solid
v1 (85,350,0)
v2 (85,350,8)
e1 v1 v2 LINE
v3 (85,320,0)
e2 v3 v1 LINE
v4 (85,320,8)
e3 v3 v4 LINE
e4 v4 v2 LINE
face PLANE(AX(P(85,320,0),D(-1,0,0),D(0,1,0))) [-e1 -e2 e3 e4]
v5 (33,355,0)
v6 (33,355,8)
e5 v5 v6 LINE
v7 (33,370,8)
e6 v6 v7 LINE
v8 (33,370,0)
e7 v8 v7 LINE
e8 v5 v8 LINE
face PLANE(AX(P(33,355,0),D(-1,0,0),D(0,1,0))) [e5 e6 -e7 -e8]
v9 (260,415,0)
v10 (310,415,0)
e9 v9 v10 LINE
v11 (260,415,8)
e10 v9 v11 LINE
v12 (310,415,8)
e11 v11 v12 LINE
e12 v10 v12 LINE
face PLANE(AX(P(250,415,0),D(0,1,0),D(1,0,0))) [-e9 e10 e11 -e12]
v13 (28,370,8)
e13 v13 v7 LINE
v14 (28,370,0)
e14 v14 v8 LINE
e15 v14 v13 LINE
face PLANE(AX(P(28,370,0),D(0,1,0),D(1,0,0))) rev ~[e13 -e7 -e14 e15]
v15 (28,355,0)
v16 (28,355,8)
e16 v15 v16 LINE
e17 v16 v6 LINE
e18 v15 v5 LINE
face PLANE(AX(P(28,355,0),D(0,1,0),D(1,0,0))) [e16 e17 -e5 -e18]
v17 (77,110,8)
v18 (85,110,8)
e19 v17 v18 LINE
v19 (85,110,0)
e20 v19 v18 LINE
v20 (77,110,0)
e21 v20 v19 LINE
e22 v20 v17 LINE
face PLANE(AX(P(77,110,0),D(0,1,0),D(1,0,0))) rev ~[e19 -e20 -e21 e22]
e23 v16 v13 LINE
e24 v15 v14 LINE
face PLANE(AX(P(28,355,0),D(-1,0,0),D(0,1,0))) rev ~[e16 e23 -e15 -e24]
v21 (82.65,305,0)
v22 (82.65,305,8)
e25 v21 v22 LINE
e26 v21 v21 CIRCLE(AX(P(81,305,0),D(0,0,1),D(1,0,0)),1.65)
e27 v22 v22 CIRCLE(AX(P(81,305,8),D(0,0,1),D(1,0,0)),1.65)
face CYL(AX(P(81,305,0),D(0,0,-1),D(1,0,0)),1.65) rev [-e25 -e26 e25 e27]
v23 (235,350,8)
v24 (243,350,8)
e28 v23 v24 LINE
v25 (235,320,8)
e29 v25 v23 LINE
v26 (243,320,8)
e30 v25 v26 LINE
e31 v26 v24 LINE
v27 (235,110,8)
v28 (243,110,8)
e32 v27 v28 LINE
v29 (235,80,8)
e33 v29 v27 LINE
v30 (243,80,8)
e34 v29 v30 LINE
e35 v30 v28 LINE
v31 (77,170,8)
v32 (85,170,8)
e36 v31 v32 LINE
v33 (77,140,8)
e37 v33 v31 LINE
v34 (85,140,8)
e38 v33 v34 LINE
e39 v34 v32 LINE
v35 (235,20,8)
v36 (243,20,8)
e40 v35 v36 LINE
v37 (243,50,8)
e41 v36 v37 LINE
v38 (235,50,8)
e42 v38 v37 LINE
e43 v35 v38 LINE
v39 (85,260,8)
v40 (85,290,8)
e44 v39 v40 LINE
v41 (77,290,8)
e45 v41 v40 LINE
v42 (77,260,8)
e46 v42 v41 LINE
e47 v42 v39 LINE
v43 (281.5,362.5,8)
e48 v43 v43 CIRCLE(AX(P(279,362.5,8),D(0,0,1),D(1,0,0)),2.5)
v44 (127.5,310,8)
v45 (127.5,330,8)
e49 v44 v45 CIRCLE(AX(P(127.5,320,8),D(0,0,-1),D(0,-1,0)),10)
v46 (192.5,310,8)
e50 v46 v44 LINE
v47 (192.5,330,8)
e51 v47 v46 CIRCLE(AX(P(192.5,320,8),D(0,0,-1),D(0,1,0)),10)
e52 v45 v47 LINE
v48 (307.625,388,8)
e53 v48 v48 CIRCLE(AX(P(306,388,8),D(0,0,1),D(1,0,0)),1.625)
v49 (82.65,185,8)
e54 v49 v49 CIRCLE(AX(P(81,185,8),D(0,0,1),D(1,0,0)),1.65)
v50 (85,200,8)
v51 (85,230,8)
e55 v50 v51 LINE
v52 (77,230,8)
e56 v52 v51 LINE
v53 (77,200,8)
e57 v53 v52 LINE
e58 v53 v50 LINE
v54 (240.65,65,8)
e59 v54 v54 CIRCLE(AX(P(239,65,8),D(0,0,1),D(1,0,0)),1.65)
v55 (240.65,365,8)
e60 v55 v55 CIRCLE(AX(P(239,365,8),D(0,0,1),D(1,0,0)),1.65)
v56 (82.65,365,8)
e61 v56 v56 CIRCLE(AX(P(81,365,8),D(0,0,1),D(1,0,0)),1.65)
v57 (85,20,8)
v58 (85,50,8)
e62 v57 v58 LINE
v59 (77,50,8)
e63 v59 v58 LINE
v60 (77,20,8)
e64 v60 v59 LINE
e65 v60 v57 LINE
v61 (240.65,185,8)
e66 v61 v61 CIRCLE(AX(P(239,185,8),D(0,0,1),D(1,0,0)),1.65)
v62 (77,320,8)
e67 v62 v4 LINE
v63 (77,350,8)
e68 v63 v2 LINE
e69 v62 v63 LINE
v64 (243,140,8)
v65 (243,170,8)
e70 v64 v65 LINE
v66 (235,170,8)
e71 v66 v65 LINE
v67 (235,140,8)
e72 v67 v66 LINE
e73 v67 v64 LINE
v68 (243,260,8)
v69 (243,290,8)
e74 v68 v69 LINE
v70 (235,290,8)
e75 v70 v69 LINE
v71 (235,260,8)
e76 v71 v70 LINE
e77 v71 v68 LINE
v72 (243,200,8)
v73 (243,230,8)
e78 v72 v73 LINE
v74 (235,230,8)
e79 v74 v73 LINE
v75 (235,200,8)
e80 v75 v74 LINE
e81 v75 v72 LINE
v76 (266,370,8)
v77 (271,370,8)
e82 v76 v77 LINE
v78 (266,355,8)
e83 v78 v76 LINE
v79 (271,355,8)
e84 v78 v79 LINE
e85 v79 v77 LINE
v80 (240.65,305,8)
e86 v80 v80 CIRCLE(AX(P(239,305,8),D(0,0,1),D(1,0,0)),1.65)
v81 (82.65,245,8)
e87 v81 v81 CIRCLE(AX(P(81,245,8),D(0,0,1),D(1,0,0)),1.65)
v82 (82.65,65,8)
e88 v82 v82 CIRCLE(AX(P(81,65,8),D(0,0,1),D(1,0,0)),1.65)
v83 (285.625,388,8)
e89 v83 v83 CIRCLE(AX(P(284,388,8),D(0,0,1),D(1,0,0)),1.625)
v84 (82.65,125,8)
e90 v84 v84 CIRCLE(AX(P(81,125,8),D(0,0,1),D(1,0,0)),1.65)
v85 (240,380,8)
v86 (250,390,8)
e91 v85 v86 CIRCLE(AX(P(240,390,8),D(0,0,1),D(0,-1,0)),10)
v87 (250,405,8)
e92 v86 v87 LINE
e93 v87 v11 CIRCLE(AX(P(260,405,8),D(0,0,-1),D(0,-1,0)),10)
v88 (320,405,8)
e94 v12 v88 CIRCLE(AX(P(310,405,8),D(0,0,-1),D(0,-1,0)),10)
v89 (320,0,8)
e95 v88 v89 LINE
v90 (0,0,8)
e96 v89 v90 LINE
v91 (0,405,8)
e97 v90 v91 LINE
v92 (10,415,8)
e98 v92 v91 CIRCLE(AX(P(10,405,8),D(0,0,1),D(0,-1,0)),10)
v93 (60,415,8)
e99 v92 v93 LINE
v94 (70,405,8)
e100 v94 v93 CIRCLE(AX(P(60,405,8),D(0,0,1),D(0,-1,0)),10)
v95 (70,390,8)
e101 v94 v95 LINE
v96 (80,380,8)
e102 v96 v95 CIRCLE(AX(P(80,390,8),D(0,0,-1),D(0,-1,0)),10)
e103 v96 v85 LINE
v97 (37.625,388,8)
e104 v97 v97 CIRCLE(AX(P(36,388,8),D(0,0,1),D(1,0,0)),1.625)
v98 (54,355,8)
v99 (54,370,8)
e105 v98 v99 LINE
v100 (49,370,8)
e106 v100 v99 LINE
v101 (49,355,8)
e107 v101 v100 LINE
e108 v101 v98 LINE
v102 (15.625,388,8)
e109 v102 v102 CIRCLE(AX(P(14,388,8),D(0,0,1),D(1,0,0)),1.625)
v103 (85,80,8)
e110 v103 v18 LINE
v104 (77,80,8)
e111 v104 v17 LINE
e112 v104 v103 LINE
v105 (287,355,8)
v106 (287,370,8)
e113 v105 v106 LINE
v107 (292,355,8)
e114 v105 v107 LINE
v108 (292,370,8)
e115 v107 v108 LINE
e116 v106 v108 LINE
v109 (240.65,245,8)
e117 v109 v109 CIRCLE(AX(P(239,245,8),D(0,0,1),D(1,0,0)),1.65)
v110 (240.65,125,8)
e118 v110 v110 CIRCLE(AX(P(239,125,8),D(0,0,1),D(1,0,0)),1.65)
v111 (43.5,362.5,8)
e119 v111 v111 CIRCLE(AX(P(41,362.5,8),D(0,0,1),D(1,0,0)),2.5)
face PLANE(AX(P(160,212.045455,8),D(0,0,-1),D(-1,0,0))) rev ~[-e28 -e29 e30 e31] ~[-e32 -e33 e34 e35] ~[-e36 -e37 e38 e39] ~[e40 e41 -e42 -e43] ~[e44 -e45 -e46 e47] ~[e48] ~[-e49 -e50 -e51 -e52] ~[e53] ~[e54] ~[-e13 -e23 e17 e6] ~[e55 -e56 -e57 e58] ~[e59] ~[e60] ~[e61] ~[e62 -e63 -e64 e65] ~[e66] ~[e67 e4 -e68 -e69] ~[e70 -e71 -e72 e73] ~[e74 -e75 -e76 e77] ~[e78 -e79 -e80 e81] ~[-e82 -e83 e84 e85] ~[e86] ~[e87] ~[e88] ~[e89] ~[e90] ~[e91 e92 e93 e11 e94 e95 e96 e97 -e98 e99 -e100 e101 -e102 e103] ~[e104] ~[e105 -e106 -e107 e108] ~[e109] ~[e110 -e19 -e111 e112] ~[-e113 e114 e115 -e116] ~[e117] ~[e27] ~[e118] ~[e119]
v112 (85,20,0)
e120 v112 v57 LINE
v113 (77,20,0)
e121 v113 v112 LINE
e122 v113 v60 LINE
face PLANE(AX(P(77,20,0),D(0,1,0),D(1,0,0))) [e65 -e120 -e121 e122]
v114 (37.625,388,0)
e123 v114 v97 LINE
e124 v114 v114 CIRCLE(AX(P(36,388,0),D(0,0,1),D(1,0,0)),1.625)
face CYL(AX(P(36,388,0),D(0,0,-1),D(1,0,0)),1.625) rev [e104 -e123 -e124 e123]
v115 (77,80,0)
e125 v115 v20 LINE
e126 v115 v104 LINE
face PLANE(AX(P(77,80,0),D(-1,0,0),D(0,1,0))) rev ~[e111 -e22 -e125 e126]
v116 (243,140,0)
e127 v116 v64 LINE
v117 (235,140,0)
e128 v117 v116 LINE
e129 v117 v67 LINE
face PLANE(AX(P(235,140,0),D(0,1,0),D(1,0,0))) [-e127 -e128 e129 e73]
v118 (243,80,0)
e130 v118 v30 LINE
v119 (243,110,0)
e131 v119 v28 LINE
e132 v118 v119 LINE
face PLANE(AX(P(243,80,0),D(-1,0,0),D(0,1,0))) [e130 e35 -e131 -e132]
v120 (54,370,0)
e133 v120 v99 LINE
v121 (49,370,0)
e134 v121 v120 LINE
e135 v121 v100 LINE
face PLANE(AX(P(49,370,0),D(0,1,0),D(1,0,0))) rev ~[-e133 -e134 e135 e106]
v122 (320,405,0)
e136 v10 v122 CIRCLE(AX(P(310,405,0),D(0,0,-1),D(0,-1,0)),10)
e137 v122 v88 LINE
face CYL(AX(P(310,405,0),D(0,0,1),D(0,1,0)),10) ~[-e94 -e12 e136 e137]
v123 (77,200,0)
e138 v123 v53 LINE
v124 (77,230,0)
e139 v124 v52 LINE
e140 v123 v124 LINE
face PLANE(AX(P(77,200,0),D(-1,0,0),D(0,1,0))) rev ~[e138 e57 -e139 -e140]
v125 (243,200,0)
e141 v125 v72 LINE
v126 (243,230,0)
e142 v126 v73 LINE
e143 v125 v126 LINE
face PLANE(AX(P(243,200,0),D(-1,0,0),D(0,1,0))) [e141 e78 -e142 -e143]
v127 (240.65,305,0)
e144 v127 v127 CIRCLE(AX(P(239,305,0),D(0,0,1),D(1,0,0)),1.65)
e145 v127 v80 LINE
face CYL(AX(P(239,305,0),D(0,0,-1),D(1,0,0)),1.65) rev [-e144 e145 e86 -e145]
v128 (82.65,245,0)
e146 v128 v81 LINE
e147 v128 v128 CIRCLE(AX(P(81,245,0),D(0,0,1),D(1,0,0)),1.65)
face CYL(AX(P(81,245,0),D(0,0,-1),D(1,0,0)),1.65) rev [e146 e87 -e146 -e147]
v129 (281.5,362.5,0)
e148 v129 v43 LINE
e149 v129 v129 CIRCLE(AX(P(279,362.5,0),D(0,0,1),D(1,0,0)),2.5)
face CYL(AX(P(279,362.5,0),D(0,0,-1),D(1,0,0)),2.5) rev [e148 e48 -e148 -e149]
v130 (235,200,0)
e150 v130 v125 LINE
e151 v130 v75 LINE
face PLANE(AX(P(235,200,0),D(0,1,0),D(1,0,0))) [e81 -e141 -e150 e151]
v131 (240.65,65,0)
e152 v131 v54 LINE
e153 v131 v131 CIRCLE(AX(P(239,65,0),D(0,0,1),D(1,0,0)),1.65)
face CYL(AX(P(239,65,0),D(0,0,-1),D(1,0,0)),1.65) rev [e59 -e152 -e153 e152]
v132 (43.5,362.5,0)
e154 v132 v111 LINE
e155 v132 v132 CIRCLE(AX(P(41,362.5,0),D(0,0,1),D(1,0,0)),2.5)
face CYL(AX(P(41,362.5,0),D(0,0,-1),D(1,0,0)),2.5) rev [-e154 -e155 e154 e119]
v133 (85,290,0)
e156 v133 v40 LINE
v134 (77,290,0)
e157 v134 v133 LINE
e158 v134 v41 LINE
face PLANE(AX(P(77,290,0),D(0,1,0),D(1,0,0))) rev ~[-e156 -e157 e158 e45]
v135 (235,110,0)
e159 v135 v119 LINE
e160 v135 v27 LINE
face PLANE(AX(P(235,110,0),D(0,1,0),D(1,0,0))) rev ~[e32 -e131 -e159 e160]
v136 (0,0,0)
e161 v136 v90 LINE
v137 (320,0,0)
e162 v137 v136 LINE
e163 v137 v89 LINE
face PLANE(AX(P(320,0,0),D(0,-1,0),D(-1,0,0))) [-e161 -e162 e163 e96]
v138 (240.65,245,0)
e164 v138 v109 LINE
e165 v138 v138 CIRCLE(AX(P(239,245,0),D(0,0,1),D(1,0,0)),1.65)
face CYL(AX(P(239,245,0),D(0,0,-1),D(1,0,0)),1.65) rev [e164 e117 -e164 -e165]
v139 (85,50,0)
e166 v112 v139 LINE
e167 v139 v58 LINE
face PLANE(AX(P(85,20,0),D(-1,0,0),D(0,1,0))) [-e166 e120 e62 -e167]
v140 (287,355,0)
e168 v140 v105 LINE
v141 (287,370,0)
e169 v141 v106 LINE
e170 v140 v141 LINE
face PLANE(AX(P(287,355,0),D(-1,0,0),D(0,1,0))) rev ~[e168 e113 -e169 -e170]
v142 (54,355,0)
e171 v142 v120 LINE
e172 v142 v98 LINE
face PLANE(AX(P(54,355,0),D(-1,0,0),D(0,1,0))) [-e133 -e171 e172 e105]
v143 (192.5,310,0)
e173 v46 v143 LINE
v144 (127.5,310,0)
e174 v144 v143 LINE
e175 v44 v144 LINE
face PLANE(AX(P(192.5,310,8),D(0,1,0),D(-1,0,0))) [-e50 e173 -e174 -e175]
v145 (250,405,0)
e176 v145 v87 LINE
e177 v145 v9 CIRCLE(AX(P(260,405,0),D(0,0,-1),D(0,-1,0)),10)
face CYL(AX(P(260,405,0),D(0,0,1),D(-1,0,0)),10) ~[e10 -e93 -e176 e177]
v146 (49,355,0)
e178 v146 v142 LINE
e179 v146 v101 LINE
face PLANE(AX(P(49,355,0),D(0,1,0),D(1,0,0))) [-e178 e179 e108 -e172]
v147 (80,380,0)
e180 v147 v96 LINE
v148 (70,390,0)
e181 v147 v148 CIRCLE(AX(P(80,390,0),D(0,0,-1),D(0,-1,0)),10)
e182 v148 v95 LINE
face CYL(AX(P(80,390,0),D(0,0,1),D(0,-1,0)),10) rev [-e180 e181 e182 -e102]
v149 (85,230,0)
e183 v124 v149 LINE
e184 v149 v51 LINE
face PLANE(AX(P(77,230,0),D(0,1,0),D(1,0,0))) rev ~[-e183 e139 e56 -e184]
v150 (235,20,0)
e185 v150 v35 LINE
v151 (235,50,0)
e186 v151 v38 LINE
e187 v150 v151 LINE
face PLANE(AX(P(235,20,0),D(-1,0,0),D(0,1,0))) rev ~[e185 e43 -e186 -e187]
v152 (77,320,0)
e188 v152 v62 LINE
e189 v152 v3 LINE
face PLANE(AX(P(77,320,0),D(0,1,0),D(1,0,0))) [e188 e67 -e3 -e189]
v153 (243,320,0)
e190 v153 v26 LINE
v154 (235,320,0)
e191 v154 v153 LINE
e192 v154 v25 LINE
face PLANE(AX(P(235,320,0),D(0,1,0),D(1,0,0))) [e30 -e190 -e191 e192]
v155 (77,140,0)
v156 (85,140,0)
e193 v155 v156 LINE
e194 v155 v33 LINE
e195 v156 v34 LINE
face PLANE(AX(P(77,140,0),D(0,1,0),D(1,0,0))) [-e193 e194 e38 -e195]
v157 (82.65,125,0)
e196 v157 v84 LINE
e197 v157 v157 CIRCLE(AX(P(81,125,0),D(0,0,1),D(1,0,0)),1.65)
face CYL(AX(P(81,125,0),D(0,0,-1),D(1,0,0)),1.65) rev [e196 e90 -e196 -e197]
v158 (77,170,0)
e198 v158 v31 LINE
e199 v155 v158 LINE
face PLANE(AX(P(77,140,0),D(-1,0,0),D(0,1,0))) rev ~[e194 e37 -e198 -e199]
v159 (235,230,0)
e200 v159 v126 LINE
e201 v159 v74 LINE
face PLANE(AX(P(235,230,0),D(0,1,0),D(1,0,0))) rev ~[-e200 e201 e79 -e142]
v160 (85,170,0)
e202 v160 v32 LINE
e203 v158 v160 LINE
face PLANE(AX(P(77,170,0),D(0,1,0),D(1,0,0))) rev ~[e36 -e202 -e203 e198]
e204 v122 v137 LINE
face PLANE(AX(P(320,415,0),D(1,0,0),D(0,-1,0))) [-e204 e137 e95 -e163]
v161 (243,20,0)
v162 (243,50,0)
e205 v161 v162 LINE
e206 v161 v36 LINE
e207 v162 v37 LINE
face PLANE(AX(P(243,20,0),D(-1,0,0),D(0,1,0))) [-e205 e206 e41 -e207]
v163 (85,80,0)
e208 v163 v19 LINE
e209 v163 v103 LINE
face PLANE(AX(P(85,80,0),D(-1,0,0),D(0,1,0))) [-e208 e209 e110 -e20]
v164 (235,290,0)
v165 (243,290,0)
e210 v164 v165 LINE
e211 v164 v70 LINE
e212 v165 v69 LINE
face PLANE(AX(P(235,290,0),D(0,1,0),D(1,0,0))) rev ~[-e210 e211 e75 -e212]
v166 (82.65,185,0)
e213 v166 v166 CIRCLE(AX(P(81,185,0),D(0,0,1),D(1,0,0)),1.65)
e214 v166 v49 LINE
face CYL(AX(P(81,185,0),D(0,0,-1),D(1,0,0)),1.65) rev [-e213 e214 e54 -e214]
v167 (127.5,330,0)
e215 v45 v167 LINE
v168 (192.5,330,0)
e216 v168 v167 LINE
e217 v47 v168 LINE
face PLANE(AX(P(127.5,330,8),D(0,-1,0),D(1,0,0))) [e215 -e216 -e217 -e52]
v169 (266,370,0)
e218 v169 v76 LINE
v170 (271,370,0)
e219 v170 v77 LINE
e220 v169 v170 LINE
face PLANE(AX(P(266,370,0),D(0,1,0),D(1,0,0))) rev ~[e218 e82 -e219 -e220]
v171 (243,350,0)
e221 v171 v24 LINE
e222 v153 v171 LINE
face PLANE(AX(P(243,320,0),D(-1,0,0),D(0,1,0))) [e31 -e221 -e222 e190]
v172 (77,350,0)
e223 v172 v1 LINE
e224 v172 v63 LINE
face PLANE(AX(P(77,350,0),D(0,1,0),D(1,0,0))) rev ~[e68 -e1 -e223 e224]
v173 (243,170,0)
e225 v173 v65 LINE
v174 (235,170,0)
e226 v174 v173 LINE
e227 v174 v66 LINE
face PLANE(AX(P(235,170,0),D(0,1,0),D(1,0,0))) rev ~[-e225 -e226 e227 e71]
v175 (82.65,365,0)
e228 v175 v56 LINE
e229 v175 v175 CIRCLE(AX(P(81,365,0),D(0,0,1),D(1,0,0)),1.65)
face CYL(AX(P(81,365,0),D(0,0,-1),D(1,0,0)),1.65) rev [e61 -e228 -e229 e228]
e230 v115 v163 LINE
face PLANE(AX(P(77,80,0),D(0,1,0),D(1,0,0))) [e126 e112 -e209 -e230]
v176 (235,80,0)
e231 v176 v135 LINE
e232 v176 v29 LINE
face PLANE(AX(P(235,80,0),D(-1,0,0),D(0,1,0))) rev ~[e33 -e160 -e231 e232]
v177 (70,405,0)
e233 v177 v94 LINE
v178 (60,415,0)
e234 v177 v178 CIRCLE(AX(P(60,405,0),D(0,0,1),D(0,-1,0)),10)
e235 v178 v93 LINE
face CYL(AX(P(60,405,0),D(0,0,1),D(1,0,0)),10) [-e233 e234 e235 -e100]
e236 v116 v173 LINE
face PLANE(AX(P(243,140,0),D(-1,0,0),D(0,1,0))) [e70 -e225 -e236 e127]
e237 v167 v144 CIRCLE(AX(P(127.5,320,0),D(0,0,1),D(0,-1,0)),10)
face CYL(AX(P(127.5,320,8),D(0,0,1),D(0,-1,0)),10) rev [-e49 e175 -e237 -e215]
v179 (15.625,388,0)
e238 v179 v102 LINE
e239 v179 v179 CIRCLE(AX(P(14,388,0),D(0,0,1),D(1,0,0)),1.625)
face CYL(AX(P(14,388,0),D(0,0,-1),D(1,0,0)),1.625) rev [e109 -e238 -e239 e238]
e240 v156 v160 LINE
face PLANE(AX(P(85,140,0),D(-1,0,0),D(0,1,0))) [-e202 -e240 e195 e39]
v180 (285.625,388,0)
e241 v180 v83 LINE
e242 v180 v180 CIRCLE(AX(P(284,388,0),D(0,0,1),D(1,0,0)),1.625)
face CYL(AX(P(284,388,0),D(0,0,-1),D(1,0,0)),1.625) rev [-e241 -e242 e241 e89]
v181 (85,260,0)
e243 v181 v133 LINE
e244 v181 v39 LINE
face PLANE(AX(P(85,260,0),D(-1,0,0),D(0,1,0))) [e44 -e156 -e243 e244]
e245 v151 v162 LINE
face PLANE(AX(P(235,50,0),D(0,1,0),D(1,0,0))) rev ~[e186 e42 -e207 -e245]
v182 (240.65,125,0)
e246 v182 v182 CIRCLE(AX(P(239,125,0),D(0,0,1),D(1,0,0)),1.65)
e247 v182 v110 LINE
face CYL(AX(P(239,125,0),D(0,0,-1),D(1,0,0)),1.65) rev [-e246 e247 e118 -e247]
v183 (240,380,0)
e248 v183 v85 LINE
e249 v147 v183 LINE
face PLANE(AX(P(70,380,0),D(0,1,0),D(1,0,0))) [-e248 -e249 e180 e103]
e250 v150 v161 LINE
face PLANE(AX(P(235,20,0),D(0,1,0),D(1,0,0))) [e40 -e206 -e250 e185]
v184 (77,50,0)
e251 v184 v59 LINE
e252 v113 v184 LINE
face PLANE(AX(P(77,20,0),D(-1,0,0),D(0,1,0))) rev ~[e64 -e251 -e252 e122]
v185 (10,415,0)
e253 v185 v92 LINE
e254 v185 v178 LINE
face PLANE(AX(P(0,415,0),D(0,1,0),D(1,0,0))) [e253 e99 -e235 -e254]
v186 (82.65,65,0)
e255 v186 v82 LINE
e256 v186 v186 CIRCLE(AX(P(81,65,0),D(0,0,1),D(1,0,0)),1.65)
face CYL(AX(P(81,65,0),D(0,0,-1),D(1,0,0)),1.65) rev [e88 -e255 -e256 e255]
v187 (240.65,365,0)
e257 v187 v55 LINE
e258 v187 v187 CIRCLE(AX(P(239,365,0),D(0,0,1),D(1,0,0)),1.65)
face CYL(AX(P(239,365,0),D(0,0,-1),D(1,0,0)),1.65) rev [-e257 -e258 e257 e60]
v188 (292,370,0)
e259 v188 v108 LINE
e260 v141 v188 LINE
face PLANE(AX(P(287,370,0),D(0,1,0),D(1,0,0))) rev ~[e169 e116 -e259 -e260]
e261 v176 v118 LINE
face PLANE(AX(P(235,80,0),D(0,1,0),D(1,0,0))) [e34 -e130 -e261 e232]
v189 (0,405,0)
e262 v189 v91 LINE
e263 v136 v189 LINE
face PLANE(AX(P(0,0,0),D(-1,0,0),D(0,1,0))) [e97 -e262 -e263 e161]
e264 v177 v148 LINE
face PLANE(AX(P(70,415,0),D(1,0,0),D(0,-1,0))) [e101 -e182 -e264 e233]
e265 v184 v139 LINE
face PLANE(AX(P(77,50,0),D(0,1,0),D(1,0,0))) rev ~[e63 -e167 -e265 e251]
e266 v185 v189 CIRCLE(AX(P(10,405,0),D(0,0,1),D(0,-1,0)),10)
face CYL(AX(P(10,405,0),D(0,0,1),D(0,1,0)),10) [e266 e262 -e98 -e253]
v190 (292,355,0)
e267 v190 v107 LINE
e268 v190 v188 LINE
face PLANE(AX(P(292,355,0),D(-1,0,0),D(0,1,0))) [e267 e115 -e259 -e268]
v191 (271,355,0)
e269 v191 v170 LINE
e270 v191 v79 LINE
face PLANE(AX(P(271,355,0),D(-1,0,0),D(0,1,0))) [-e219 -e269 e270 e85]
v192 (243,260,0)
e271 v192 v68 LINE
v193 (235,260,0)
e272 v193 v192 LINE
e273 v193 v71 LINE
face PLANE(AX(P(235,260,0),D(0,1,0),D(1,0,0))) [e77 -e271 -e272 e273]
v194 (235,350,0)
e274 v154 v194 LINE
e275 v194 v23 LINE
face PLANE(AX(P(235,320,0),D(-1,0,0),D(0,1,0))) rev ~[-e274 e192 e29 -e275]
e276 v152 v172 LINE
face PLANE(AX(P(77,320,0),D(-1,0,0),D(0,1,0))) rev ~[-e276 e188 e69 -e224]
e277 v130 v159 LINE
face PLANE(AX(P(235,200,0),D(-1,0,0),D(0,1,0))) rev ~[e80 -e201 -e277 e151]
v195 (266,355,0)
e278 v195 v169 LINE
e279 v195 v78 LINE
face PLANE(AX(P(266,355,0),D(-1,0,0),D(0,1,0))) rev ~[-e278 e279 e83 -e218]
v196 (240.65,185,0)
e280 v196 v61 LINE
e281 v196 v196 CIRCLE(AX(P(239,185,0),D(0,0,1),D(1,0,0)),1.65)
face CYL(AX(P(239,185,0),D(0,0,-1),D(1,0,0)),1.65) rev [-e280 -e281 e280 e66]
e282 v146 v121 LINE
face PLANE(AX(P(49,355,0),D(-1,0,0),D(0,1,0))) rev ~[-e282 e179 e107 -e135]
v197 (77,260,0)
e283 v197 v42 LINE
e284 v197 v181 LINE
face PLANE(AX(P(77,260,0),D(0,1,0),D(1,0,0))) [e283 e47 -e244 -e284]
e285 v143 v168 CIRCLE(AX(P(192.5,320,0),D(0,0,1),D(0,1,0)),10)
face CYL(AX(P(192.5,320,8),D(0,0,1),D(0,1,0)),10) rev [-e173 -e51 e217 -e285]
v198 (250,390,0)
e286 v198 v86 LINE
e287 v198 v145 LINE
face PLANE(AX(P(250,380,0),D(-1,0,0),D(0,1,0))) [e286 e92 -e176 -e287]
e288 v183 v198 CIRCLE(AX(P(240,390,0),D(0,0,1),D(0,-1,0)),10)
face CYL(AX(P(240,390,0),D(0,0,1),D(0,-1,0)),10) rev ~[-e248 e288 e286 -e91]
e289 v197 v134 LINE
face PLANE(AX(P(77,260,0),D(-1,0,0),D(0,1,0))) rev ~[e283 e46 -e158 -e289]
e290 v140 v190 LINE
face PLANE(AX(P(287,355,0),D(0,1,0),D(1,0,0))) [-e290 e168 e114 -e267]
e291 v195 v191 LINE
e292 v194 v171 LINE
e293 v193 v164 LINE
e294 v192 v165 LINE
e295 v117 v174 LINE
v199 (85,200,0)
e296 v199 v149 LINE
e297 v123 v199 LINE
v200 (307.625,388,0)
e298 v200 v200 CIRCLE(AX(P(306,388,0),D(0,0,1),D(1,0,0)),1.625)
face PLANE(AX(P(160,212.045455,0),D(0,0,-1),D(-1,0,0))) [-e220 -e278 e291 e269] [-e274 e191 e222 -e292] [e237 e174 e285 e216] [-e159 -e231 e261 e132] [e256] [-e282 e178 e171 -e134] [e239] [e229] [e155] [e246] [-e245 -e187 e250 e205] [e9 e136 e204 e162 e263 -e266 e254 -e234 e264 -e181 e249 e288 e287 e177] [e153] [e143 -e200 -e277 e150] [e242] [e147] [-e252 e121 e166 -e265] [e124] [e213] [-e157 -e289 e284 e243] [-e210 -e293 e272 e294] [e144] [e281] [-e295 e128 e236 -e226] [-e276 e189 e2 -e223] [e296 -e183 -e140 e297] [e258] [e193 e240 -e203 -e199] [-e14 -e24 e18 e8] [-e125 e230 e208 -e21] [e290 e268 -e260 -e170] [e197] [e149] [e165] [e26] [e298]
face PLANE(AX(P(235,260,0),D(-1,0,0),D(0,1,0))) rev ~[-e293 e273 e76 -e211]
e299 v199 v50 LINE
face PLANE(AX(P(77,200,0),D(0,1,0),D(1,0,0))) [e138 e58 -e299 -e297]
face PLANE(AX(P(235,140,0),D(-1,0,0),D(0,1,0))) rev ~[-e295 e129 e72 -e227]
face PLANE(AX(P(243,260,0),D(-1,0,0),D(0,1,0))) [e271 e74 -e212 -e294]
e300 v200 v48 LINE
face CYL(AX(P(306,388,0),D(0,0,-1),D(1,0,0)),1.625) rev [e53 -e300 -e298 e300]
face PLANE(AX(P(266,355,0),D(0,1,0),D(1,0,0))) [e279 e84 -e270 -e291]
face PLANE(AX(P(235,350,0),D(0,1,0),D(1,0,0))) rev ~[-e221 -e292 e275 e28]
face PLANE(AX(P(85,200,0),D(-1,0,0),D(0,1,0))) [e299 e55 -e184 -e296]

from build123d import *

# Parameters (mm, degrees)
SKETCH1_R           = 1.625
SKETCH1_R_2         = 2.5
SKETCH1_R_3         = 1.65
SKETCH1_W           = 8
SKETCH1_H           = 30
SKETCH1_W_2         = 5
SKETCH1_H_2         = 15
BOSS_EXTRUDE1_DEPTH = 8
FILLET1_R           = 10
CUT_EXTRUDE1_DEPTH  = 9


with BuildPart() as part:
    # Sketch1 → Boss-Extrude1 (new body)
    with BuildSketch(Plane.XY):
        Polygon((70, 380), (250, 380), (250, 415), (320, 415), (320, 0), (0, 0), (0, 415), (70, 415), align=None)
        with Locations((14, 388)):
            Circle(SKETCH1_R, mode=Mode.SUBTRACT)
        with Locations((36, 388)):
            Circle(SKETCH1_R, mode=Mode.SUBTRACT)
        with Locations((41, 362.5)):
            Circle(SKETCH1_R_2, mode=Mode.SUBTRACT)
        with Locations((279, 362.5)):
            Circle(SKETCH1_R_2, mode=Mode.SUBTRACT)
        with Locations((284, 388)):
            Circle(SKETCH1_R, mode=Mode.SUBTRACT)
        with Locations((306, 388)):
            Circle(SKETCH1_R, mode=Mode.SUBTRACT)
        with Locations((239, 365)):
            Circle(SKETCH1_R_3, mode=Mode.SUBTRACT)
        with Locations((81, 365)):
            Circle(SKETCH1_R_3, mode=Mode.SUBTRACT)
        with Locations((239, 305)):
            Circle(SKETCH1_R_3, mode=Mode.SUBTRACT)
        with Locations((81, 305)):
            Circle(SKETCH1_R_3, mode=Mode.SUBTRACT)
        with Locations((239, 245)):
            Circle(SKETCH1_R_3, mode=Mode.SUBTRACT)
        with Locations((81, 245)):
            Circle(SKETCH1_R_3, mode=Mode.SUBTRACT)
        with Locations((239, 185)):
            Circle(SKETCH1_R_3, mode=Mode.SUBTRACT)
        with Locations((81, 185)):
            Circle(SKETCH1_R_3, mode=Mode.SUBTRACT)
        with Locations((239, 125)):
            Circle(SKETCH1_R_3, mode=Mode.SUBTRACT)
        with Locations((81, 125)):
            Circle(SKETCH1_R_3, mode=Mode.SUBTRACT)
        with Locations((239, 65)):
            Circle(SKETCH1_R_3, mode=Mode.SUBTRACT)
        with Locations((81, 65)):
            Circle(SKETCH1_R_3, mode=Mode.SUBTRACT)
        with Locations((81, 35)):
            Rectangle(SKETCH1_W, SKETCH1_H, mode=Mode.SUBTRACT)
        with Locations((30.5, 362.5)):
            Rectangle(SKETCH1_W_2, SKETCH1_H_2, mode=Mode.SUBTRACT)
        with Locations((51.5, 362.5)):
            Rectangle(SKETCH1_W_2, SKETCH1_H_2, mode=Mode.SUBTRACT)
        with Locations((268.5, 362.5)):
            Rectangle(SKETCH1_W_2, SKETCH1_H_2, mode=Mode.SUBTRACT)
        with Locations((289.5, 362.5)):
            Rectangle(SKETCH1_W_2, SKETCH1_H_2, mode=Mode.SUBTRACT)
        with Locations((239, 35)):
            Rectangle(SKETCH1_W, SKETCH1_H, mode=Mode.SUBTRACT)
        with Locations((81, 95)):
            Rectangle(SKETCH1_W, SKETCH1_H, mode=Mode.SUBTRACT)
        with Locations((239, 95)):
            Rectangle(SKETCH1_W, SKETCH1_H, mode=Mode.SUBTRACT)
        with Locations((81, 155)):
            Rectangle(SKETCH1_W, SKETCH1_H, mode=Mode.SUBTRACT)
        with Locations((239, 155)):
            Rectangle(SKETCH1_W, SKETCH1_H, mode=Mode.SUBTRACT)
        with Locations((81, 215)):
            Rectangle(SKETCH1_W, SKETCH1_H, mode=Mode.SUBTRACT)
        with Locations((239, 215)):
            Rectangle(SKETCH1_W, SKETCH1_H, mode=Mode.SUBTRACT)
        with Locations((81, 275)):
            Rectangle(SKETCH1_W, SKETCH1_H, mode=Mode.SUBTRACT)
        with Locations((239, 275)):
            Rectangle(SKETCH1_W, SKETCH1_H, mode=Mode.SUBTRACT)
        with Locations((81, 335)):
            Rectangle(SKETCH1_W, SKETCH1_H, mode=Mode.SUBTRACT)
        with Locations((239, 335)):
            Rectangle(SKETCH1_W, SKETCH1_H, mode=Mode.SUBTRACT)
    extrude(amount=BOSS_EXTRUDE1_DEPTH)

    # Fillet1
    fillet1_edges = [part.edges().sort_by_distance(p)[0] for p in [
        (0, 415, 4),
        (70, 415, 4),
        (70, 380, 4),
        (250, 380, 4),
        (250, 415, 4),
        (320, 415, 4),
    ]]
    fillet(fillet1_edges, radius=FILLET1_R)

    # Sketch2 → Cut-Extrude1 (cut, through all)
    with BuildSketch(Plane.XY.offset(8)):
        with BuildLine():
            Line((127.5, 330), (192.5, 330))
            ThreePointArc((192.5, 330), (202.5, 320), (192.5, 310))
            Line((192.5, 310), (127.5, 310))
            ThreePointArc((127.5, 310), (117.5, 320), (127.5, 330))
        make_face()
    extrude(amount=-CUT_EXTRUDE1_DEPTH, mode=Mode.SUBTRACT)


solid = part.part
